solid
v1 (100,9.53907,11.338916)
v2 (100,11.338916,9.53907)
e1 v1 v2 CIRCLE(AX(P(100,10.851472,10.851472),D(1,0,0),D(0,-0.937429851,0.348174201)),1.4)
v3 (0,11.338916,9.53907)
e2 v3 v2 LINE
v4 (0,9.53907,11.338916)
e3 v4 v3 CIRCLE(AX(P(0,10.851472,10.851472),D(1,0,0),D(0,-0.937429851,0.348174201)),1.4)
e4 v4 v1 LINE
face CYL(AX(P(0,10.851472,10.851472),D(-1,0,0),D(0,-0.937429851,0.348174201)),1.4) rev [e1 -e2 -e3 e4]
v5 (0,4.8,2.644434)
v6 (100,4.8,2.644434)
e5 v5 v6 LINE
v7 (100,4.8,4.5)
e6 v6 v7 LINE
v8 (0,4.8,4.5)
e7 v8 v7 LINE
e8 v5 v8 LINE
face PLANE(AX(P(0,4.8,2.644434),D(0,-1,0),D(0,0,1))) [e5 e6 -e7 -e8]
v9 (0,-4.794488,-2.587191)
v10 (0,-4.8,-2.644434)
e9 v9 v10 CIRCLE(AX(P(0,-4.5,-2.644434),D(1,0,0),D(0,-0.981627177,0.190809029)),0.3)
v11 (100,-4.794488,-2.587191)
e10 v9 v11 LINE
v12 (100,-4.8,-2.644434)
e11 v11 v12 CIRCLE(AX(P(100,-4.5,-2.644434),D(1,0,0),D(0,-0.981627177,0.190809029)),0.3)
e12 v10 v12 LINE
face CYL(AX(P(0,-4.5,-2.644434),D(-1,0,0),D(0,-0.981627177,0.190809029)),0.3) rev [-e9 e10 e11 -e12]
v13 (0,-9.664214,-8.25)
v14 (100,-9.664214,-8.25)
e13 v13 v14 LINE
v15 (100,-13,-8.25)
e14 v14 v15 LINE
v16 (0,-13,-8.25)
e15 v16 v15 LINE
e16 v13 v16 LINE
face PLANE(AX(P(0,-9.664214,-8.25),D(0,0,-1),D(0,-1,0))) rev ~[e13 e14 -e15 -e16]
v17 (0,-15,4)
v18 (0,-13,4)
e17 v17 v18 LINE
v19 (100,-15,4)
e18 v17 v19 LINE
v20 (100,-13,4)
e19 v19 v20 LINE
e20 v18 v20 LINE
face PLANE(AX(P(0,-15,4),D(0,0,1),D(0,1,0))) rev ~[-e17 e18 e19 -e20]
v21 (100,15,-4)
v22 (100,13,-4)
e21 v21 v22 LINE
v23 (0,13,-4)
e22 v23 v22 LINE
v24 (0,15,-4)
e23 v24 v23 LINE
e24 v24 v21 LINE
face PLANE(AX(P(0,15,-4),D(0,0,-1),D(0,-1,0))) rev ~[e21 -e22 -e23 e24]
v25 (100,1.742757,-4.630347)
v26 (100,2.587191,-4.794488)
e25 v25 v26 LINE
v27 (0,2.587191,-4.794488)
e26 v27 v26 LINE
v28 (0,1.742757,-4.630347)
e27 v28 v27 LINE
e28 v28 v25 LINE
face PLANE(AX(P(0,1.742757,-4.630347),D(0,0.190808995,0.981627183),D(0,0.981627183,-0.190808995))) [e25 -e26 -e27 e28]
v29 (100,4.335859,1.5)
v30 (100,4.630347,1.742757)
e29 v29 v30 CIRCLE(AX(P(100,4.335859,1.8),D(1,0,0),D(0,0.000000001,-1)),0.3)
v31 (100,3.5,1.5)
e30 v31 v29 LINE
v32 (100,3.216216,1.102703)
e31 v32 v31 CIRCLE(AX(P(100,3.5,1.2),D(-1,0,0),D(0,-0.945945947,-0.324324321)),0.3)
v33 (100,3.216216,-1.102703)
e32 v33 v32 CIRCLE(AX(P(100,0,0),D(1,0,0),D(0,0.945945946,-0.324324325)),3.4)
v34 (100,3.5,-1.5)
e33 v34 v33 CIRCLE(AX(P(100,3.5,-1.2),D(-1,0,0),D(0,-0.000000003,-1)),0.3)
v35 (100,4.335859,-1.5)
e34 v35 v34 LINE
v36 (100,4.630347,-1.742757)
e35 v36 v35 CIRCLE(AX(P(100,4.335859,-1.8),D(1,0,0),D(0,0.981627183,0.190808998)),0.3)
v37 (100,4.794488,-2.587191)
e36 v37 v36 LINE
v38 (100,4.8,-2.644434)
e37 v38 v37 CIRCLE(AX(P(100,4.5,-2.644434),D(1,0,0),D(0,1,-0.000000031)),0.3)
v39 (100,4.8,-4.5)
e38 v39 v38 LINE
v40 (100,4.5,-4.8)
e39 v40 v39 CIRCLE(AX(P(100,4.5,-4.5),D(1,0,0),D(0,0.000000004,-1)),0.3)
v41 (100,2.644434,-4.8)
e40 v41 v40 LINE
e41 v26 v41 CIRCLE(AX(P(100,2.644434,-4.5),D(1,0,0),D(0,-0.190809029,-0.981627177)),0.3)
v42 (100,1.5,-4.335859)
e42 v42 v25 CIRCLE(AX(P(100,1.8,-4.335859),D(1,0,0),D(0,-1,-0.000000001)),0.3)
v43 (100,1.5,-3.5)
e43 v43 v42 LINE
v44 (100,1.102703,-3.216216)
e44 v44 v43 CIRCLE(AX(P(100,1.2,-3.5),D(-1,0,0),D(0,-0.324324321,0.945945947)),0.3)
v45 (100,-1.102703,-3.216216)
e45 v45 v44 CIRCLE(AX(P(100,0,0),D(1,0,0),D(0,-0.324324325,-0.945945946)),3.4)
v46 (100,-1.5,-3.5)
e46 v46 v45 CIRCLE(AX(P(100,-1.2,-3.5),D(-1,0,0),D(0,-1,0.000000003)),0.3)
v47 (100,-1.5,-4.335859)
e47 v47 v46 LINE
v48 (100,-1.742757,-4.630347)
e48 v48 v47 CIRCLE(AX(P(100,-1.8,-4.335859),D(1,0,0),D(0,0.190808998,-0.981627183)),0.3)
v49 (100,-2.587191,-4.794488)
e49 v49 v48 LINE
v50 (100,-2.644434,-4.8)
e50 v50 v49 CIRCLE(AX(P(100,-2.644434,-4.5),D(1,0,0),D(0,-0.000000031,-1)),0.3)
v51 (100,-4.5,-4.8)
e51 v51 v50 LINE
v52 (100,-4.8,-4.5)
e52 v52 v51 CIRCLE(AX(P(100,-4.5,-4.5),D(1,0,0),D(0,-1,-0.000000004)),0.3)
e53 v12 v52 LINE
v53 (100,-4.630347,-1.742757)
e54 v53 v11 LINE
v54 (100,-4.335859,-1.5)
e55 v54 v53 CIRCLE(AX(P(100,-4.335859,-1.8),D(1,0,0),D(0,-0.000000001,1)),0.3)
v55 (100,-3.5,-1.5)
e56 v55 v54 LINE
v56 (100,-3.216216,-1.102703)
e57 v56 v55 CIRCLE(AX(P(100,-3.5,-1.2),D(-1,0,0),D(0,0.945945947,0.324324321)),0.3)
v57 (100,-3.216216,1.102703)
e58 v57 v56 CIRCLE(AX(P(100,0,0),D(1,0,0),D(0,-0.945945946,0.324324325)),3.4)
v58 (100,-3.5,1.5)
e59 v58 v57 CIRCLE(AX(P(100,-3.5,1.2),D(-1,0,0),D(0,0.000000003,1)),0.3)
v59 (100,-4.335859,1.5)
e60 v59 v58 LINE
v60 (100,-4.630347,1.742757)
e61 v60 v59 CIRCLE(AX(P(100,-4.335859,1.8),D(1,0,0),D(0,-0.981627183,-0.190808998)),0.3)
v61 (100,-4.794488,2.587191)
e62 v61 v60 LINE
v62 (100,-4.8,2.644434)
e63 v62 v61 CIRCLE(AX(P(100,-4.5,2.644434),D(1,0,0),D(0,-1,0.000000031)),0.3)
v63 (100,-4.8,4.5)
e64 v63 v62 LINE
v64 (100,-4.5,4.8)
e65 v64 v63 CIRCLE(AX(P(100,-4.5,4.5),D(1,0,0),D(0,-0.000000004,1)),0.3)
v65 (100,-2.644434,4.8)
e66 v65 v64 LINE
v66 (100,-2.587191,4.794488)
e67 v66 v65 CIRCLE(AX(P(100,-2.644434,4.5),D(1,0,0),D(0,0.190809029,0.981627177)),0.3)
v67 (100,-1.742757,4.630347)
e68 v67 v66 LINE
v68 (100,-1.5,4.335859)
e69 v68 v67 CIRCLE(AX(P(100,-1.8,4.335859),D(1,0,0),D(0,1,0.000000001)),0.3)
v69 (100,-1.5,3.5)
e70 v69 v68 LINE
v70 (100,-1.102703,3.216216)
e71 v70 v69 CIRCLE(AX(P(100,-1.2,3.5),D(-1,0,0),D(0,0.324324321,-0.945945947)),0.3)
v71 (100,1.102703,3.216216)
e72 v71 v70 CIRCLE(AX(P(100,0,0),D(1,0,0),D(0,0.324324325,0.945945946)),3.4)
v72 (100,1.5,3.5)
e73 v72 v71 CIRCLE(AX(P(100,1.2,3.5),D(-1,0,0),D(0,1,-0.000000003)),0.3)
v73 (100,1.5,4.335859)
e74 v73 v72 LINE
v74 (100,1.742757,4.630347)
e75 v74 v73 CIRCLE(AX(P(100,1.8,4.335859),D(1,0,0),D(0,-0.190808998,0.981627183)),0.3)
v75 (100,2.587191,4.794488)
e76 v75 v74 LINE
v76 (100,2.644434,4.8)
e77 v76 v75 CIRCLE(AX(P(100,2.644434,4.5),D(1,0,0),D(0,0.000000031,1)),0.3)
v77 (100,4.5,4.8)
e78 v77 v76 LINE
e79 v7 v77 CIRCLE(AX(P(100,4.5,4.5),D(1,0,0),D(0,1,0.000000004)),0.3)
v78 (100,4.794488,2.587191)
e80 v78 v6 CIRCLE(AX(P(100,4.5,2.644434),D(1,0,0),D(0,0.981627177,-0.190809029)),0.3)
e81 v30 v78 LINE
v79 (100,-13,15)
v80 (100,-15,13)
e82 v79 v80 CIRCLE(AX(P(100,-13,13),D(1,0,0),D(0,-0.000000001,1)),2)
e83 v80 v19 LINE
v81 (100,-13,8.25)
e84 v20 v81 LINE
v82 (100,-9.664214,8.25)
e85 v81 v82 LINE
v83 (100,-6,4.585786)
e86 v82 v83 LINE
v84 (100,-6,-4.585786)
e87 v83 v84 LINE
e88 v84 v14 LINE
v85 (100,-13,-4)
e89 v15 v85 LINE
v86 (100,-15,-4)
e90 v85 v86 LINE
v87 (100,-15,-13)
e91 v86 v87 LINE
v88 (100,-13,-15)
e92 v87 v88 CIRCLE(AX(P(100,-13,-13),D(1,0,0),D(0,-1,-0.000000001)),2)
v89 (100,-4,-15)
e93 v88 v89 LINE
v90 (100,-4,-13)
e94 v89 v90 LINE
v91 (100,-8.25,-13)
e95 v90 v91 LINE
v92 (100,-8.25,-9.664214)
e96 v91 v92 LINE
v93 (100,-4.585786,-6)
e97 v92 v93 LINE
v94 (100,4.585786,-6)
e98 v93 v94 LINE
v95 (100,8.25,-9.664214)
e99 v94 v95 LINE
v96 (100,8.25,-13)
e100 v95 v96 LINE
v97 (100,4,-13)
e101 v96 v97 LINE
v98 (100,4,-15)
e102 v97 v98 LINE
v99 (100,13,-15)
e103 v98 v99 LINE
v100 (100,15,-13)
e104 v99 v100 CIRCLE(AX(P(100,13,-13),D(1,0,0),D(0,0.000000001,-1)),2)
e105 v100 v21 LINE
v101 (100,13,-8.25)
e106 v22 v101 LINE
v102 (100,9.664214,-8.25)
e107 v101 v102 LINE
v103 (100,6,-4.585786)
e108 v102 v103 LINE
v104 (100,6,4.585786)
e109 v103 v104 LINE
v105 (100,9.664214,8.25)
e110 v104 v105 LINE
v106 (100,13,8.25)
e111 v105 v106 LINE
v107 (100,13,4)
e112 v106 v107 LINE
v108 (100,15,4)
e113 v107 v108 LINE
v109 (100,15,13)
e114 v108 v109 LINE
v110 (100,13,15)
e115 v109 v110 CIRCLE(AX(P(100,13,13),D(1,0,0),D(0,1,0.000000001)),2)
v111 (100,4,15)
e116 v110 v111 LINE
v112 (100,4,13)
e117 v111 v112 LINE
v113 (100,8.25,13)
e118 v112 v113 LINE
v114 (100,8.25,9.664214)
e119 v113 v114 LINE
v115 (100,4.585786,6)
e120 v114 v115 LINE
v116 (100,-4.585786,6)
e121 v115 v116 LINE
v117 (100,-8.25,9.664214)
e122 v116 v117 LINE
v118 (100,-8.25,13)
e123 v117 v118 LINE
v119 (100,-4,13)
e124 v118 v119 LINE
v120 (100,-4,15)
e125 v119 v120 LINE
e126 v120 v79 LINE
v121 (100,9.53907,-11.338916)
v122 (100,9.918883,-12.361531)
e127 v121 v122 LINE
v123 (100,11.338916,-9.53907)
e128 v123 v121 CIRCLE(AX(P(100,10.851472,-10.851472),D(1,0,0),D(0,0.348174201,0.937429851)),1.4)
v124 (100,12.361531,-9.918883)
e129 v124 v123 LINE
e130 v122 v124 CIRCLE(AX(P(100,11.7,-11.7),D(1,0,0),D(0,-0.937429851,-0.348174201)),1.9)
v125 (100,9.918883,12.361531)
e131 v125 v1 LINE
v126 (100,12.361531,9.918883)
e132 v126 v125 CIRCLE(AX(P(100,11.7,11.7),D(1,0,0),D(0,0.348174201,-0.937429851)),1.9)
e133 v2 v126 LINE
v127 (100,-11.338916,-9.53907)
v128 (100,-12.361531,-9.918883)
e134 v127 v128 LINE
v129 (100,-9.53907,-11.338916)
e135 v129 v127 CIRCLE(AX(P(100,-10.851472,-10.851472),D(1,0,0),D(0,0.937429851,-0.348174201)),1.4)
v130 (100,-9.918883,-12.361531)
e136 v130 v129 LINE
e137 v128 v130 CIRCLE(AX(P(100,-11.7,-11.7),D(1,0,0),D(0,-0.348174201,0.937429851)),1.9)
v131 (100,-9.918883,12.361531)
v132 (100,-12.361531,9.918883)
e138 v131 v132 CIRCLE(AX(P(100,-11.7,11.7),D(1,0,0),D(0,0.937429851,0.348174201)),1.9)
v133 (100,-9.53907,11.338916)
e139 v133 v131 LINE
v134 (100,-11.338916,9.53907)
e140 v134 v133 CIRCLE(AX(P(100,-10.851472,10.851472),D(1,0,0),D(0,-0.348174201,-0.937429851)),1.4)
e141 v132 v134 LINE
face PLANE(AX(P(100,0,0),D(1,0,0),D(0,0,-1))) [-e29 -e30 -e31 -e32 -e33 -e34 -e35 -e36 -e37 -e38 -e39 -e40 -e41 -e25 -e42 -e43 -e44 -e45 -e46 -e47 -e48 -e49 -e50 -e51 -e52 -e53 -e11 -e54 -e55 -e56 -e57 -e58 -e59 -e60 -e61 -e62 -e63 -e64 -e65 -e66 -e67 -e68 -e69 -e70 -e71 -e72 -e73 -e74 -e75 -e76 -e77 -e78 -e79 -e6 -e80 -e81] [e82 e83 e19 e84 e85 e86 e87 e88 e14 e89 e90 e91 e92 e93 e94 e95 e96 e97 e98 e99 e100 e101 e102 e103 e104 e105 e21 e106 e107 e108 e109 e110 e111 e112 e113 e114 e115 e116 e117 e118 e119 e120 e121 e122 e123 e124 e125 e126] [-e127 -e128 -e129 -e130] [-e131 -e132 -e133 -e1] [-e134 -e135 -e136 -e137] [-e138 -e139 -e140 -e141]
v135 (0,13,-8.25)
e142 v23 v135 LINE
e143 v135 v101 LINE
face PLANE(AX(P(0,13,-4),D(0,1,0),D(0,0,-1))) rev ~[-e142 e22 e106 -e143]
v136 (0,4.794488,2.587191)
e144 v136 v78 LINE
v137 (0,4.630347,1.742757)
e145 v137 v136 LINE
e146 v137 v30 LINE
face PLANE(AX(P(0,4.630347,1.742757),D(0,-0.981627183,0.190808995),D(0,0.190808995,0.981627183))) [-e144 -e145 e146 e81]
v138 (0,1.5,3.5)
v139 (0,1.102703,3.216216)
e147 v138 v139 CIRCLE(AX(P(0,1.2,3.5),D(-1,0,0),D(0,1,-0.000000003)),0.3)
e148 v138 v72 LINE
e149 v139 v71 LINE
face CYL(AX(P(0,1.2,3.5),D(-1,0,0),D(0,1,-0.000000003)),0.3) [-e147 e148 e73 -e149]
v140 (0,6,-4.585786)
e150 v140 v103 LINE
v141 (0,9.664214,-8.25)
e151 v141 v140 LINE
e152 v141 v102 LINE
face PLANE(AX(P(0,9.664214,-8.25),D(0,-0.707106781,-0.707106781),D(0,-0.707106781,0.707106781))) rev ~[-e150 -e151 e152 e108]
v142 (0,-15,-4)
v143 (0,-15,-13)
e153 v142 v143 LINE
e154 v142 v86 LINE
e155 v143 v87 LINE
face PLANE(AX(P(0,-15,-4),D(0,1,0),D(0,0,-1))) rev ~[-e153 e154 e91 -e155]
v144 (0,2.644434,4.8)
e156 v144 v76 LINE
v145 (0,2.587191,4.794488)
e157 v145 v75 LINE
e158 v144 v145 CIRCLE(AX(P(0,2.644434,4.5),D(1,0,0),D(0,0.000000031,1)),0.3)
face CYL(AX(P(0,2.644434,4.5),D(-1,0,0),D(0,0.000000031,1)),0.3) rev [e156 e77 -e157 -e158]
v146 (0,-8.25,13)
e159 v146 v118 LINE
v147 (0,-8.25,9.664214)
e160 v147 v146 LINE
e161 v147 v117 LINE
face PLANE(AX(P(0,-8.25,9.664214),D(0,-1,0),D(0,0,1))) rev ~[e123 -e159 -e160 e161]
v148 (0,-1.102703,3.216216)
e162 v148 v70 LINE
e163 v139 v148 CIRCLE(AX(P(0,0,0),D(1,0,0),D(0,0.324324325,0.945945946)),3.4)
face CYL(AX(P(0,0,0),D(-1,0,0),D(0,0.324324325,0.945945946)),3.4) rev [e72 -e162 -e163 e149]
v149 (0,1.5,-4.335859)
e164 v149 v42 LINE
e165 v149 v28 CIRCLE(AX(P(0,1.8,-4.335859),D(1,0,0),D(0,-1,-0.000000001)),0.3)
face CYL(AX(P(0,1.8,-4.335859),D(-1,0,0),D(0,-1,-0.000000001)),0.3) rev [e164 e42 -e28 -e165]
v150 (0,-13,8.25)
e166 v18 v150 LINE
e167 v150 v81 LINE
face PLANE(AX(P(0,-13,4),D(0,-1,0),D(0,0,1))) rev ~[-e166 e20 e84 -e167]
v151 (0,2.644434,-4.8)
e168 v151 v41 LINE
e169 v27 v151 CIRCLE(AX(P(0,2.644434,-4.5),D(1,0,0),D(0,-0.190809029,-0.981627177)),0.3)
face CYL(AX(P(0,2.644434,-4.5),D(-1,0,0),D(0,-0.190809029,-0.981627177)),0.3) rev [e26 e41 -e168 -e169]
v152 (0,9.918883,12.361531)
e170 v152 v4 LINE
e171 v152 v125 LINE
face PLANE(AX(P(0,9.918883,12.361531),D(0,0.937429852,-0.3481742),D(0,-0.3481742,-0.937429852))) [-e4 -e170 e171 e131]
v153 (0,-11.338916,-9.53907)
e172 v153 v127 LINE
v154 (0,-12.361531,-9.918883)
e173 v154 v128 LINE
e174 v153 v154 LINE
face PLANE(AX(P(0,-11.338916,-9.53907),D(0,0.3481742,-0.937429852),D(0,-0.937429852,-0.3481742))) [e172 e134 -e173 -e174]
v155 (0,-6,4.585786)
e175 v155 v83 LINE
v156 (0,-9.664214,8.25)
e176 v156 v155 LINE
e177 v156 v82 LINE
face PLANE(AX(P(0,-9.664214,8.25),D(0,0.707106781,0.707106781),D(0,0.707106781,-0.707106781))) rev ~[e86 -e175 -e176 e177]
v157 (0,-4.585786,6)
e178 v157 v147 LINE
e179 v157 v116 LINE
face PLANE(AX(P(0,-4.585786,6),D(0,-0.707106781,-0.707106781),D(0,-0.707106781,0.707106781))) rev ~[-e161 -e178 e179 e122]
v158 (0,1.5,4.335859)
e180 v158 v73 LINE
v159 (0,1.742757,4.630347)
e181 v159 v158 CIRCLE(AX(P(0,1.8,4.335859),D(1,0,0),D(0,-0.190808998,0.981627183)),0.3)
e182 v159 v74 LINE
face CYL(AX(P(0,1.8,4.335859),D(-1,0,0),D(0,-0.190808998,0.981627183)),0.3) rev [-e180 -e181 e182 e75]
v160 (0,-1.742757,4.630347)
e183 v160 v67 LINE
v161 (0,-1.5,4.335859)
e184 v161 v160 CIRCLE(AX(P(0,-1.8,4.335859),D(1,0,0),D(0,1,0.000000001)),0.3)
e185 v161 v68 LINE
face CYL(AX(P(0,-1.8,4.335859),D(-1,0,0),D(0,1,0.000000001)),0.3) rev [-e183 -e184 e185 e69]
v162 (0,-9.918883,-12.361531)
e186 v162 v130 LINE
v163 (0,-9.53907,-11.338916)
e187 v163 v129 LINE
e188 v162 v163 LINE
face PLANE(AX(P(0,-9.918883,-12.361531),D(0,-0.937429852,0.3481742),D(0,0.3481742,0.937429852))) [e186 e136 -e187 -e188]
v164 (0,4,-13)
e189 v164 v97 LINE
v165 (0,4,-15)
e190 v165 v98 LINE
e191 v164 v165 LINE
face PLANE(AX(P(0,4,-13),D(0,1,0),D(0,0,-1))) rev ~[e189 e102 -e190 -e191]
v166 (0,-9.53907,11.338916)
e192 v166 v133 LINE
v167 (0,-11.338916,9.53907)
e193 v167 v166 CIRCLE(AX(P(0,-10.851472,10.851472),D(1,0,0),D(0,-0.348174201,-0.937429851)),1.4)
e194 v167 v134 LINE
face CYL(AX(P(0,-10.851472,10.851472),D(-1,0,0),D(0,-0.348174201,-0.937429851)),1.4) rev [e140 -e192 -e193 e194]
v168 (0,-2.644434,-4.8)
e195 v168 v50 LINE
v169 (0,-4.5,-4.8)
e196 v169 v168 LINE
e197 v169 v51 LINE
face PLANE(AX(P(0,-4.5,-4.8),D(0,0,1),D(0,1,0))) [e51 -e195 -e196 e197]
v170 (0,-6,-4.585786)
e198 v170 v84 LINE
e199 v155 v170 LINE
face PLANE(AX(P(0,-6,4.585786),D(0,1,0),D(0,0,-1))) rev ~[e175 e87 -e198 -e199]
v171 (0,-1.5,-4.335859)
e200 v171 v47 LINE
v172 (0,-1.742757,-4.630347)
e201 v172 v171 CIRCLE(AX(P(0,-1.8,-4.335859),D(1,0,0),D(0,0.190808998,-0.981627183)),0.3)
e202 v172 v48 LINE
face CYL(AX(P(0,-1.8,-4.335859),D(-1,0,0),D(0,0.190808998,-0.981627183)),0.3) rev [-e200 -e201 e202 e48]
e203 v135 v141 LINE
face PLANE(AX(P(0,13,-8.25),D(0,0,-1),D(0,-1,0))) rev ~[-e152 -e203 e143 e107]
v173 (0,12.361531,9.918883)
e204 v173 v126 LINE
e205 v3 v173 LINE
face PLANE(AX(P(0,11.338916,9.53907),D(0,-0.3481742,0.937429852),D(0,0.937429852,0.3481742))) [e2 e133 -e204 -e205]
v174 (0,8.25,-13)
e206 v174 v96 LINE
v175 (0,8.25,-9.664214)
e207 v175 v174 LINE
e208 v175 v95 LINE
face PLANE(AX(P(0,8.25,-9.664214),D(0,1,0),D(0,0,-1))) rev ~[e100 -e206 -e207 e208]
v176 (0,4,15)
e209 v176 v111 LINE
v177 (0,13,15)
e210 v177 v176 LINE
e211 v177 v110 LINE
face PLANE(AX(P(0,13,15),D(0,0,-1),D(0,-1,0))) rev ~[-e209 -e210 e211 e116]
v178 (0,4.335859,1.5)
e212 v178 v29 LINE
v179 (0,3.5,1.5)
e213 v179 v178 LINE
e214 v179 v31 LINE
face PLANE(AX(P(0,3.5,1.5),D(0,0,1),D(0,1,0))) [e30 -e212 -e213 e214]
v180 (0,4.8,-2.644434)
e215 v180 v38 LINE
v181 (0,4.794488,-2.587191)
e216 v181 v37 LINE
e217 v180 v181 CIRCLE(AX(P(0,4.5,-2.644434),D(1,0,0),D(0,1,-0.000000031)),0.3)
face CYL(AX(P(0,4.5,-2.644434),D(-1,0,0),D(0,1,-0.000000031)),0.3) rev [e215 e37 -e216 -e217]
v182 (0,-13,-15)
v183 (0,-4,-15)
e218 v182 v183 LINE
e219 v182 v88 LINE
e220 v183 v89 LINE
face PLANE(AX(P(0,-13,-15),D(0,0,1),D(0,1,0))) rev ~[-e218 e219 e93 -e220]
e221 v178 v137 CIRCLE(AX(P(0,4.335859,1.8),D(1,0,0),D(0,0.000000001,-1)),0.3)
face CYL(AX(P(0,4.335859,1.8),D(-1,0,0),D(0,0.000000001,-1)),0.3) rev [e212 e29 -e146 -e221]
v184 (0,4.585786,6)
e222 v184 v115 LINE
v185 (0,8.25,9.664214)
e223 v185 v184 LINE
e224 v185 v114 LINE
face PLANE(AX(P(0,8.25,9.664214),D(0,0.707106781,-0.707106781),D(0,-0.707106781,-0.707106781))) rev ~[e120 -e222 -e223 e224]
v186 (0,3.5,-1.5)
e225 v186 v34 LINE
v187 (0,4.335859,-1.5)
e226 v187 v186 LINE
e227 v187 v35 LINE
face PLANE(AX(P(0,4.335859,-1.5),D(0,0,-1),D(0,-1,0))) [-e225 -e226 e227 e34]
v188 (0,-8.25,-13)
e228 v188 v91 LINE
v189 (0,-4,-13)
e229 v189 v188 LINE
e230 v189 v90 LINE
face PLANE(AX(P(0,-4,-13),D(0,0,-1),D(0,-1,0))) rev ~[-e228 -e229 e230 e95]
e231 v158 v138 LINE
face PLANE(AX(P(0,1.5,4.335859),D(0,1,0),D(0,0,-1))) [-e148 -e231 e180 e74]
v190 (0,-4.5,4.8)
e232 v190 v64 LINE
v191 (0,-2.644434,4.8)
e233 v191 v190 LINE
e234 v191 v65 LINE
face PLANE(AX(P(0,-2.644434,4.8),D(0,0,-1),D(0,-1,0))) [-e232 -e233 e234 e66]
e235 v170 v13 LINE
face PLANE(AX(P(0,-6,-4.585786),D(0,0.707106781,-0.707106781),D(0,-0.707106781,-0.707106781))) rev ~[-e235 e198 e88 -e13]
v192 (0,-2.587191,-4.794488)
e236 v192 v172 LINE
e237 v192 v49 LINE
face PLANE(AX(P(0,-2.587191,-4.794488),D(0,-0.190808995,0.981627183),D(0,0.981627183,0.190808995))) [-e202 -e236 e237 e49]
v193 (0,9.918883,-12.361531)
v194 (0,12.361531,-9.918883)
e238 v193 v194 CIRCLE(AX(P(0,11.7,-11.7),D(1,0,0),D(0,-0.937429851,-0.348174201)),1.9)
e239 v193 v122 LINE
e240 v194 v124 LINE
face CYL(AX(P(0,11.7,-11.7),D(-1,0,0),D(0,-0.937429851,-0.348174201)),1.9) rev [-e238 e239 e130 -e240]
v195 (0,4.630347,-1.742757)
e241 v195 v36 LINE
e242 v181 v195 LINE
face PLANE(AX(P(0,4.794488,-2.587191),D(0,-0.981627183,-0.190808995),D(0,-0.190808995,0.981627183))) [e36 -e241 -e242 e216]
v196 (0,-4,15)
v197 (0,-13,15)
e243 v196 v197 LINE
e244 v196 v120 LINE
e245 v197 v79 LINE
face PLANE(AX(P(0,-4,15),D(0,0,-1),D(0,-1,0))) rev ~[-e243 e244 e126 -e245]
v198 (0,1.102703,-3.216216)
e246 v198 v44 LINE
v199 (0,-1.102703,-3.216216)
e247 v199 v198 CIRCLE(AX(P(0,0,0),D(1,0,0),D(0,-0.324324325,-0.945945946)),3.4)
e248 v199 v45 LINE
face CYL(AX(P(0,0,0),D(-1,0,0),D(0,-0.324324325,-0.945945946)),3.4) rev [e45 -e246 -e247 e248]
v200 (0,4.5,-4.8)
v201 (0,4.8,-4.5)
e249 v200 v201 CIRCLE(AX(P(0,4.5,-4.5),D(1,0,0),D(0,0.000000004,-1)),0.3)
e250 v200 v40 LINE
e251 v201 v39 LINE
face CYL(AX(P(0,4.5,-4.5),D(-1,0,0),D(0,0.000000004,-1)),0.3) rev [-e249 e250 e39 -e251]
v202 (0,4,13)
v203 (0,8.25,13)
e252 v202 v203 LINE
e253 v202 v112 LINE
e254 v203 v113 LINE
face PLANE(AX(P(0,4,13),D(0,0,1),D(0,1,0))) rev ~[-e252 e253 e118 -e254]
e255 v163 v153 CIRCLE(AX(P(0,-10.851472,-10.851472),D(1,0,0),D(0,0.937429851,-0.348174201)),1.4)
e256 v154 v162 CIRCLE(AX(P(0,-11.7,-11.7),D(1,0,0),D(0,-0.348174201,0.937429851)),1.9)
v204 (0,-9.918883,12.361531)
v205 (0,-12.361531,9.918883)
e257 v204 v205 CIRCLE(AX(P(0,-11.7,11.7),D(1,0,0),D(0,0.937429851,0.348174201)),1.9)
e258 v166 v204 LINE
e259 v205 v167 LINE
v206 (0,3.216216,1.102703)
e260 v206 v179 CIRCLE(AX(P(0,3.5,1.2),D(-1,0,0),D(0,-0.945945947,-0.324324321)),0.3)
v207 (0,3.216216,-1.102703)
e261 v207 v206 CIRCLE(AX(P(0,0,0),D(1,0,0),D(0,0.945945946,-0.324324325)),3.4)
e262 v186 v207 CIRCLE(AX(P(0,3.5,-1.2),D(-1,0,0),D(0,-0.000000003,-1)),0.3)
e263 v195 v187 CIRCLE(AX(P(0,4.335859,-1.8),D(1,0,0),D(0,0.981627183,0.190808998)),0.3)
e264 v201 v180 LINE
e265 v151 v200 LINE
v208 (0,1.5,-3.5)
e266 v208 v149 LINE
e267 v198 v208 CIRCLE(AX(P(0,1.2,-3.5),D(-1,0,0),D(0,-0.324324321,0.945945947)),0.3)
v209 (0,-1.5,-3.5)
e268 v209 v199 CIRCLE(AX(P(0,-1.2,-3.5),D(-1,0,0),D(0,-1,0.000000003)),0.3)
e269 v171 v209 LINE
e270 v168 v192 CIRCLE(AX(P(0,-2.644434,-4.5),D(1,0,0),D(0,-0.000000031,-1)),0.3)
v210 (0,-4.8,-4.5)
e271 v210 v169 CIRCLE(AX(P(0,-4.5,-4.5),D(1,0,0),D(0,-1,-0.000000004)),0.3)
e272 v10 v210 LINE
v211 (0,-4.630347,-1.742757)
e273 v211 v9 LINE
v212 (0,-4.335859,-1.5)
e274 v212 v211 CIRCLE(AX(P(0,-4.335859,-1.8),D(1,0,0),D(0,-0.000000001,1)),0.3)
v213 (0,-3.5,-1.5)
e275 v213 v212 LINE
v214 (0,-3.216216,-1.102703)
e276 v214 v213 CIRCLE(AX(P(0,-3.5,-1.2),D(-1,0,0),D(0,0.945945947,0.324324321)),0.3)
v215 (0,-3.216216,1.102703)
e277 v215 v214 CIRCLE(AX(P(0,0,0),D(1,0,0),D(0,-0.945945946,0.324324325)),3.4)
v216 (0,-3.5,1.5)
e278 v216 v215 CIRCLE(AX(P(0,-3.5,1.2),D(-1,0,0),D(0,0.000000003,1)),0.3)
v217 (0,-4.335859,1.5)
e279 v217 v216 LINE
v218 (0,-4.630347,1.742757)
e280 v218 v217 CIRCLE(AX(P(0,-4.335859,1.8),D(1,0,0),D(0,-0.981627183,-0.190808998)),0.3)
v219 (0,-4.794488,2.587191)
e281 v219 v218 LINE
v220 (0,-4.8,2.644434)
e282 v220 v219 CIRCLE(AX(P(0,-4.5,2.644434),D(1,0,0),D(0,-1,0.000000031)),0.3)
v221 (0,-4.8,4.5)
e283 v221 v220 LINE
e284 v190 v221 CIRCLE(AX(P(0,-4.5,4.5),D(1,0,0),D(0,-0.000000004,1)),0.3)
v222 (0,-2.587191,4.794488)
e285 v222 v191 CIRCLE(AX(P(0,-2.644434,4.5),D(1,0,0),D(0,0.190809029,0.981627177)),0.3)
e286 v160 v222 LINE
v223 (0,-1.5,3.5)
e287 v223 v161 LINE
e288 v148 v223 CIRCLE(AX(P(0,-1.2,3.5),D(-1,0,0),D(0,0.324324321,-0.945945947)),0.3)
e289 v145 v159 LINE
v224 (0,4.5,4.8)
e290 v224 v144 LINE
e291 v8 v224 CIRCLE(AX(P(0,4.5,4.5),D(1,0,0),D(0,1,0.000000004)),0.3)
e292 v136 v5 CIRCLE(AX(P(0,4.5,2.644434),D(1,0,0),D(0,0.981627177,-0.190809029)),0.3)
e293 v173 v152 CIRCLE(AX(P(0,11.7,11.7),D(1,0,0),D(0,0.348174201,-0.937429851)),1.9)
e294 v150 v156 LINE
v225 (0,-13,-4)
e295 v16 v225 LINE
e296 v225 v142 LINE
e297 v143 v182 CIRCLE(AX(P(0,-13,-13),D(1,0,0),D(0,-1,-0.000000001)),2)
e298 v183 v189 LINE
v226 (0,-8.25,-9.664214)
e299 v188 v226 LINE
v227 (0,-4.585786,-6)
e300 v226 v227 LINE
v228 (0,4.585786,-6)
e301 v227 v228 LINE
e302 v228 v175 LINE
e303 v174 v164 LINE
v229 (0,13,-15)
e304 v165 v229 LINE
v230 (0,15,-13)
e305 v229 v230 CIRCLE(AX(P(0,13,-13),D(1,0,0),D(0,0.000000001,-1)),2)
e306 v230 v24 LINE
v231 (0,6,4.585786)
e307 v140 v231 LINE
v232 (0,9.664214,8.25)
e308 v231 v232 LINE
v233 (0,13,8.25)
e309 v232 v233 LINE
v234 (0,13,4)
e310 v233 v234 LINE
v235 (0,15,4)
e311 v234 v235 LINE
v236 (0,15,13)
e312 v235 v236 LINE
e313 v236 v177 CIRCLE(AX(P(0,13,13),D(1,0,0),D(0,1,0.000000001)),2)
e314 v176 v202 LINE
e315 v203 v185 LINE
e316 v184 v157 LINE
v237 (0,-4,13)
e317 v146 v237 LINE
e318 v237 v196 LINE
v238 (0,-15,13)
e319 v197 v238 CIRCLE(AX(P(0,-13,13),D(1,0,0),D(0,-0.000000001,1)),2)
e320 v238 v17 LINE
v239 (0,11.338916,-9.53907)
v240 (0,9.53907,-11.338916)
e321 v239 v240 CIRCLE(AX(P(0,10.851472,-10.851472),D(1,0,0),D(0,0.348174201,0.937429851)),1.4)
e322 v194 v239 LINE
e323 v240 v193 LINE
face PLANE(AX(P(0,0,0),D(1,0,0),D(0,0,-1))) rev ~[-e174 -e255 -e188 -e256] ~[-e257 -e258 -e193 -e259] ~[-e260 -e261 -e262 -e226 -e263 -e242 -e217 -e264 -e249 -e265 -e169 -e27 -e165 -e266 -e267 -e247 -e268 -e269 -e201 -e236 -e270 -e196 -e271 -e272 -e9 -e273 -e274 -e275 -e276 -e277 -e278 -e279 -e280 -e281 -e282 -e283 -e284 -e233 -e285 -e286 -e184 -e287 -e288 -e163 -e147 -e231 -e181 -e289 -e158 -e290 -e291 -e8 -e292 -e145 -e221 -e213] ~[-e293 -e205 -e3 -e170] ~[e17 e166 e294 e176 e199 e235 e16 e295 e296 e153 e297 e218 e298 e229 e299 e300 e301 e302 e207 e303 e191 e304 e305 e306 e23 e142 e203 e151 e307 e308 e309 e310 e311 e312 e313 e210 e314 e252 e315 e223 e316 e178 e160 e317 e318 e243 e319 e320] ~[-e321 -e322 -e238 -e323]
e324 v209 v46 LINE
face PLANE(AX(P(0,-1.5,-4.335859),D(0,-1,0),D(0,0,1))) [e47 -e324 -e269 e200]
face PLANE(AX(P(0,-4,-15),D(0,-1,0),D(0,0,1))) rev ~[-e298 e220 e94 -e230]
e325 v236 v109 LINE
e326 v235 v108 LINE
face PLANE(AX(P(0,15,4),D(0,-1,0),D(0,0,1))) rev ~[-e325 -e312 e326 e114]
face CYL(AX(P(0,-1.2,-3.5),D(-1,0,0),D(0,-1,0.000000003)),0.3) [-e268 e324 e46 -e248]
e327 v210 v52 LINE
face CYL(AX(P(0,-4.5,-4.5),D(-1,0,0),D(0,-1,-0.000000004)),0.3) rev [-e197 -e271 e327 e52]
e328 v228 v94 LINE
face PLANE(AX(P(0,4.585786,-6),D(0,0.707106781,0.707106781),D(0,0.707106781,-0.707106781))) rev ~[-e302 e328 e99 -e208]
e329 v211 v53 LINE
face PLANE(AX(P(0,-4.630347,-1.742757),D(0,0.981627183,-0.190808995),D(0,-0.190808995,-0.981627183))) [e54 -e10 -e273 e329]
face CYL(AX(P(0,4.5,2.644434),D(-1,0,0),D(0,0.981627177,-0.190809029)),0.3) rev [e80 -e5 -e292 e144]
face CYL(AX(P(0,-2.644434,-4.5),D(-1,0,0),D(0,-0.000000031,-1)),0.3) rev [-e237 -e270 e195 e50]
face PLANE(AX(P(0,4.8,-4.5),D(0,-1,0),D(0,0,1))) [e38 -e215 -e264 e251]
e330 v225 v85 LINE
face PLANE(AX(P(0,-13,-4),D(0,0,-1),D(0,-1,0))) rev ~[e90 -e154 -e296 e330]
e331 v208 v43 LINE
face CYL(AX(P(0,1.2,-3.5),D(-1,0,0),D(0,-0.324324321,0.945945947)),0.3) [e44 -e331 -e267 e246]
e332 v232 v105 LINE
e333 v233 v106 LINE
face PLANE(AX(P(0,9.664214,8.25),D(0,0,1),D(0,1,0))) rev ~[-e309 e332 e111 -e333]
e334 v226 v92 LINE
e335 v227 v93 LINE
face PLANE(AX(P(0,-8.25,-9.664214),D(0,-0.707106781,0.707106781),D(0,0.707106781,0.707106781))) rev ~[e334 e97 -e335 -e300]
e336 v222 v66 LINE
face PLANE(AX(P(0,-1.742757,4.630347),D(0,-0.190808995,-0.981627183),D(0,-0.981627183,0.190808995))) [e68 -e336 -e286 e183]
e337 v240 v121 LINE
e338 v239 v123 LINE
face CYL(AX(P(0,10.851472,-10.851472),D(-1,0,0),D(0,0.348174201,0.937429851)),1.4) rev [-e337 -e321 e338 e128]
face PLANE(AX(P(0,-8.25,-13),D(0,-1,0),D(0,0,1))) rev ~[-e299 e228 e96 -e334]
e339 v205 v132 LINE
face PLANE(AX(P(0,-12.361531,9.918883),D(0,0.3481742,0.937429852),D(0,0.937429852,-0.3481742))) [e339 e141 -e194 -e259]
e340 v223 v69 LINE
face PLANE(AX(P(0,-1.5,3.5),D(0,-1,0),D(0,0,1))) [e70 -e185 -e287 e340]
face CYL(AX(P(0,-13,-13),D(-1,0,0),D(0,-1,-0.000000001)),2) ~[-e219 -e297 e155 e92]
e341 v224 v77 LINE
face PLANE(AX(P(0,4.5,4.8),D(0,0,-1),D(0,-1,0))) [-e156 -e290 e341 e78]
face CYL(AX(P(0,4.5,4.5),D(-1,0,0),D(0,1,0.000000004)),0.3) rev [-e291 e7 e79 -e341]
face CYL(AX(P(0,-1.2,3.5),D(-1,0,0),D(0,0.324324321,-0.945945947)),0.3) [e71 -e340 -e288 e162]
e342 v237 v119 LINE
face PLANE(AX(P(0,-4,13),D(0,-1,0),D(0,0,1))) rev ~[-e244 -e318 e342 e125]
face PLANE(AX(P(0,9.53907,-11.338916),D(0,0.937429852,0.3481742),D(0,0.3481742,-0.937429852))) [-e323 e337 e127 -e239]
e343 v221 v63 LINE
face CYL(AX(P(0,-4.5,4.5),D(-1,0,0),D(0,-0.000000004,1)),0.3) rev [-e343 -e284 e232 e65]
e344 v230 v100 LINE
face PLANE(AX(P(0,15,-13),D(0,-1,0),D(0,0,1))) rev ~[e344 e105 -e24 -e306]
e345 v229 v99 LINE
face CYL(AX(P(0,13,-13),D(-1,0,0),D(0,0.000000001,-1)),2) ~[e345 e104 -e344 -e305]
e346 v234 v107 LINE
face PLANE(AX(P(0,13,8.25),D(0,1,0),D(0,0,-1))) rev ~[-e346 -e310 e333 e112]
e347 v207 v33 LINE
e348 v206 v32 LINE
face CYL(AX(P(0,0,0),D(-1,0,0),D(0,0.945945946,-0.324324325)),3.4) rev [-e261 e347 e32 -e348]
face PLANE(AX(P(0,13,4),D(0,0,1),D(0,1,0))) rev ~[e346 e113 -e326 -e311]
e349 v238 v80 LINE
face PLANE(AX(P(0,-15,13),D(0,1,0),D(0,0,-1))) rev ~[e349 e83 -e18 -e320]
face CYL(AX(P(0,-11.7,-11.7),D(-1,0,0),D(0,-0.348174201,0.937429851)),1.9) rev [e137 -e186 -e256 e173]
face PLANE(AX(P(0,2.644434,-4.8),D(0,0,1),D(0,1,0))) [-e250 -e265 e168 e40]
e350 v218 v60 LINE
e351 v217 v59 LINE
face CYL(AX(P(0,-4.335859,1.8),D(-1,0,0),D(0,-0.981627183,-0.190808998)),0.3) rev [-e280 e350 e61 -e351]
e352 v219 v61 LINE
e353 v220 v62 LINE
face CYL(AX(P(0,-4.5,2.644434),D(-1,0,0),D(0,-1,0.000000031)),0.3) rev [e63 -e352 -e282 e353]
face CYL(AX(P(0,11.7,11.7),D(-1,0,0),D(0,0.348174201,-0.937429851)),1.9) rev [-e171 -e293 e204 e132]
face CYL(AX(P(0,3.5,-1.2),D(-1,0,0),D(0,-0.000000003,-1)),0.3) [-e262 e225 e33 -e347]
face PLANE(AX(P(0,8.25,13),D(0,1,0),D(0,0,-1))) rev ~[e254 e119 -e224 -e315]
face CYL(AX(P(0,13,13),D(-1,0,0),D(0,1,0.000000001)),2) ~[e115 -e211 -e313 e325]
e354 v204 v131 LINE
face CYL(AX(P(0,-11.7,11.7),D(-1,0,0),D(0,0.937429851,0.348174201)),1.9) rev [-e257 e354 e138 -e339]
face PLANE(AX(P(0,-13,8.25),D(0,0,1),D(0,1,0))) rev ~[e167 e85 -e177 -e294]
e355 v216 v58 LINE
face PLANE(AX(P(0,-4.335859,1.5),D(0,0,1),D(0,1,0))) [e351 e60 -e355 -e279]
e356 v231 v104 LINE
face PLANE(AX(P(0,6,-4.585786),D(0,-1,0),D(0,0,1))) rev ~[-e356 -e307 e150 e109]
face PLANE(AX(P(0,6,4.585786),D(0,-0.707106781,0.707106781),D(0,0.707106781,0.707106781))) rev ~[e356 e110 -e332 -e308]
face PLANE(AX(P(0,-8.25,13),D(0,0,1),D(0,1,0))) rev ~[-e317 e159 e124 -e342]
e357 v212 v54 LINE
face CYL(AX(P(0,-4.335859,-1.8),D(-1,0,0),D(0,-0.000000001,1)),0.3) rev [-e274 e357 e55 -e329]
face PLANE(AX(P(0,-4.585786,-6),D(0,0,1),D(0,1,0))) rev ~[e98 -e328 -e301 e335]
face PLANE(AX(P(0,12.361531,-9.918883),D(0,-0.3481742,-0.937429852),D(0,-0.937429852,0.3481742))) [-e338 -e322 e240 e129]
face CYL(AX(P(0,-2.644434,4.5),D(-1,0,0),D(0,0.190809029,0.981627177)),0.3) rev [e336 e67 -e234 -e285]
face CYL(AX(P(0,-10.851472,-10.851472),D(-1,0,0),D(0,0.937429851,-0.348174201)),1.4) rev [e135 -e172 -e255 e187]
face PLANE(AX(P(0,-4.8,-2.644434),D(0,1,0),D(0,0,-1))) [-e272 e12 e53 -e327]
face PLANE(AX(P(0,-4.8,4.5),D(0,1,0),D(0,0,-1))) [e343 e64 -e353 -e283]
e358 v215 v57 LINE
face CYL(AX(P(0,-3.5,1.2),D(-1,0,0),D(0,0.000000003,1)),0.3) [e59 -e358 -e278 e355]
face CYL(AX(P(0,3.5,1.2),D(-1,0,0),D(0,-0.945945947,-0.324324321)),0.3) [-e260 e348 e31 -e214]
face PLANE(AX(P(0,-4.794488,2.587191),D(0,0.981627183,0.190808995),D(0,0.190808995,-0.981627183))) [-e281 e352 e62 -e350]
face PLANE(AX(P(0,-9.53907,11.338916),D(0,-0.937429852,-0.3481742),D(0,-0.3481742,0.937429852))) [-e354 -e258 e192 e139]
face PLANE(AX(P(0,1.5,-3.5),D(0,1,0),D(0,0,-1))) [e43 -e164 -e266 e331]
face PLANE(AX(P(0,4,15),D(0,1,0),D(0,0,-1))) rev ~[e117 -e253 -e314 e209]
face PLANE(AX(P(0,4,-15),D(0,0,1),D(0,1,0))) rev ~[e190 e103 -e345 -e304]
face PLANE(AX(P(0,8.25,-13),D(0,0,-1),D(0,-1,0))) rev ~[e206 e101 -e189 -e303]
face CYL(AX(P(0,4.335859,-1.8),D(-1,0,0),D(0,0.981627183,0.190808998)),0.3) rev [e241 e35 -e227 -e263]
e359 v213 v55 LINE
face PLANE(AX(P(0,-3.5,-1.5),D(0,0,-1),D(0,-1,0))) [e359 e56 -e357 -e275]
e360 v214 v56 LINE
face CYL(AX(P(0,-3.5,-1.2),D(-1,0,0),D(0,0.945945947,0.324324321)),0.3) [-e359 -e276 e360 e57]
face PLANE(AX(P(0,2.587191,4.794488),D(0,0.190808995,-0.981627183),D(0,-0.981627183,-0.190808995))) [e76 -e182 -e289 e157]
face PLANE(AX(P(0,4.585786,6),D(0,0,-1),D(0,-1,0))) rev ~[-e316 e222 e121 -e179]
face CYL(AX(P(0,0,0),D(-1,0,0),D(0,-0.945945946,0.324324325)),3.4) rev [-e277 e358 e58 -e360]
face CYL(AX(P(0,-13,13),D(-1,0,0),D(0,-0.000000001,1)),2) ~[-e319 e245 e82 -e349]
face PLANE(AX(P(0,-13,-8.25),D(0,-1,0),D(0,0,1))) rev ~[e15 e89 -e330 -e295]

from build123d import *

# Parameters (mm, degrees)
BOSS_EXTRUDE1_DEPTH = 100


with BuildPart() as part:
    # Sketch1 → Boss-Extrude1 (new body)
    with BuildSketch(Plane(origin=(0, 0, 0), x_dir=(0, 0, -1), z_dir=(1, 0, 0))):
        with BuildLine():
            Line((-15, 13), (-15, 4))
            Line((-15, 4), (-13, 4))
            Line((-13, 4), (-13, 8.25))
            Line((-13, 8.25), (-9.664213562, 8.25))
            Line((-9.664213562, 8.25), (-6, 4.585786438))
            Line((-6, 4.585786438), (-6, -4.585786438))
            Line((-6, -4.585786438), (-9.664213562, -8.25))
            Line((-9.664213562, -8.25), (-13, -8.25))
            Line((-13, -8.25), (-13, -4))
            Line((-13, -4), (-15, -4))
            Line((-15, -4), (-15, -13))
            ThreePointArc((-15, -13), (-14.414213562, -14.414213562), (-13, -15))
            Line((-13, -15), (-4, -15))
            Line((-4, -15), (-4, -13))
            Line((-4, -13), (-8.25, -13))
            Line((-8.25, -13), (-8.25, -9.664213562))
            Line((-8.25, -9.664213562), (-4.585786438, -6))
            Line((-4.585786438, -6), (4.585786438, -6))
            Line((4.585786438, -6), (8.25, -9.664213562))
            Line((8.25, -9.664213562), (8.25, -13))
            Line((8.25, -13), (4, -13))
            Line((4, -13), (4, -15))
            Line((4, -15), (13, -15))
            ThreePointArc((13, -15), (14.414213562, -14.414213562), (15, -13))
            Line((15, -13), (15, -4))
            Line((15, -4), (13, -4))
            Line((13, -4), (13, -8.25))
            Line((13, -8.25), (9.664213562, -8.25))
            Line((9.664213562, -8.25), (6, -4.585786438))
            Line((6, -4.585786438), (6, 4.585786438))
            Line((6, 4.585786438), (9.664213562, 8.25))
            Line((9.664213562, 8.25), (13, 8.25))
            Line((13, 8.25), (13, 4))
            Line((13, 4), (15, 4))
            Line((15, 4), (15, 13))
            ThreePointArc((15, 13), (14.414213562, 14.414213562), (13, 15))
            Line((13, 15), (4, 15))
            Line((4, 15), (4, 13))
            Line((4, 13), (8.25, 13))
            Line((8.25, 13), (8.25, 9.664213562))
            Line((8.25, 9.664213562), (4.585786438, 6))
            Line((4.585786438, 6), (-4.585786438, 6))
            Line((-4.585786438, 6), (-8.25, 9.664213562))
            Line((-8.25, 9.664213562), (-8.25, 13))
            Line((-8.25, 13), (-4, 13))
            Line((-4, 13), (-4, 15))
            Line((-4, 15), (-13, 15))
            ThreePointArc((-13, 15), (-14.414213562, 14.414213562), (-15, 13))
        make_face()
        with BuildLine():
            Line((-9.539070071, 11.338915743), (-9.918883282, 12.361530981))
            ThreePointArc((-9.918883282, 12.361530981), (-13.043502884, 13.043502884), (-12.361530981, 9.918883282))
            Line((-12.361530981, 9.918883282), (-11.338915743, 9.539070071))
            ThreePointArc((-11.338915743, 9.539070071), (-9.861522369, 9.861522369), (-9.539070071, 11.338915743))
        make_face(mode=Mode.SUBTRACT)
        with BuildLine():
            Line((9.918883282, 12.361530981), (9.539070071, 11.338915743))
            ThreePointArc((9.539070071, 11.338915743), (9.861522369, 9.861522369), (11.338915743, 9.539070071))
            Line((11.338915743, 9.539070071), (12.361530981, 9.918883282))
            ThreePointArc((12.361530981, 9.918883282), (13.043502884, 13.043502884), (9.918883282, 12.361530981))
        make_face(mode=Mode.SUBTRACT)
        with BuildLine():
            Line((12.361530981, -9.918883282), (11.338915743, -9.539070071))
            ThreePointArc((11.338915743, -9.539070071), (9.861522369, -9.861522369), (9.539070071, -11.338915743))
            Line((9.539070071, -11.338915743), (9.918883282, -12.361530981))
            ThreePointArc((9.918883282, -12.361530981), (13.043502884, -13.043502884), (12.361530981, -9.918883282))
        make_face(mode=Mode.SUBTRACT)
        with BuildLine():
            Line((-11.338915743, -9.539070071), (-12.361530981, -9.918883282))
            ThreePointArc((-12.361530981, -9.918883282), (-13.043502884, -13.043502884), (-9.918883282, -12.361530981))
            Line((-9.918883282, -12.361530981), (-9.539070071, -11.338915743))
            ThreePointArc((-9.539070071, -11.338915743), (-9.861522369, -9.861522369), (-11.338915743, -9.539070071))
        make_face(mode=Mode.SUBTRACT)
        with BuildLine():
            Line((-4.8, -2.644433572), (-4.8, -4.5))
            ThreePointArc((-4.8, -4.5), (-4.712132034, -4.712132034), (-4.5, -4.8))
            Line((-4.5, -4.8), (-2.644433572, -4.8))
            ThreePointArc((-2.644433572, -4.8), (-2.615679847, -4.79861886), (-2.587190874, -4.794488155))
            Line((-2.587190874, -4.794488155), (-1.742757301, -4.630346896))
            ThreePointArc((-1.742757301, -4.630346896), (-1.568512625, -4.526682207), (-1.5, -4.335858741))
            Line((-1.5, -4.335858741), (-1.5, -3.5))
            ThreePointArc((-1.5, -3.5), (-1.374371458, -3.255879959), (-1.102702703, -3.216216216))
            ThreePointArc((-1.102702703, -3.216216216), (0, -3.4), (1.102702703, -3.216216216))
            ThreePointArc((1.102702703, -3.216216216), (1.374371458, -3.255879959), (1.5, -3.5))
            Line((1.5, -3.5), (1.5, -4.335858741))
            ThreePointArc((1.5, -4.335858741), (1.568512625, -4.526682207), (1.742757301, -4.630346896))
            Line((1.742757301, -4.630346896), (2.587190874, -4.794488155))
            ThreePointArc((2.587190874, -4.794488155), (2.615679847, -4.79861886), (2.644433572, -4.8))
            Line((2.644433572, -4.8), (4.5, -4.8))
            ThreePointArc((4.5, -4.8), (4.712132034, -4.712132034), (4.8, -4.5))
            Line((4.8, -4.5), (4.8, -2.644433572))
            ThreePointArc((4.8, -2.644433572), (4.79861886, -2.615679847), (4.794488155, -2.587190874))
            Line((4.794488155, -2.587190874), (4.630346896, -1.742757301))
            ThreePointArc((4.630346896, -1.742757301), (4.526682207, -1.568512625), (4.335858741, -1.5))
            Line((4.335858741, -1.5), (3.5, -1.5))
            ThreePointArc((3.5, -1.5), (3.255879959, -1.374371458), (3.216216216, -1.102702703))
            ThreePointArc((3.216216216, -1.102702703), (3.4, 0), (3.216216216, 1.102702703))
            ThreePointArc((3.216216216, 1.102702703), (3.255879959, 1.374371458), (3.5, 1.5))
            Line((3.5, 1.5), (4.335858741, 1.5))
            ThreePointArc((4.335858741, 1.5), (4.526682207, 1.568512625), (4.630346896, 1.742757301))
            Line((4.630346896, 1.742757301), (4.794488155, 2.587190874))
            ThreePointArc((4.794488155, 2.587190874), (4.79861886, 2.615679847), (4.8, 2.644433572))
            Line((4.8, 2.644433572), (4.8, 4.5))
            ThreePointArc((4.8, 4.5), (4.712132034, 4.712132034), (4.5, 4.8))
            Line((4.5, 4.8), (2.644433572, 4.8))
            ThreePointArc((2.644433572, 4.8), (2.615679847, 4.79861886), (2.587190874, 4.794488155))
            Line((2.587190874, 4.794488155), (1.742757301, 4.630346896))
            ThreePointArc((1.742757301, 4.630346896), (1.568512625, 4.526682207), (1.5, 4.335858741))
            Line((1.5, 4.335858741), (1.5, 3.5))
            ThreePointArc((1.5, 3.5), (1.374371458, 3.255879959), (1.102702703, 3.216216216))
            ThreePointArc((1.102702703, 3.216216216), (0, 3.4), (-1.102702703, 3.216216216))
            ThreePointArc((-1.102702703, 3.216216216), (-1.374371458, 3.255879959), (-1.5, 3.5))
            Line((-1.5, 3.5), (-1.5, 4.335858741))
            ThreePointArc((-1.5, 4.335858741), (-1.568512625, 4.526682207), (-1.742757301, 4.630346896))
            Line((-1.742757301, 4.630346896), (-2.587190874, 4.794488155))
            ThreePointArc((-2.587190874, 4.794488155), (-2.615679847, 4.79861886), (-2.644433572, 4.8))
            Line((-2.644433572, 4.8), (-4.5, 4.8))
            ThreePointArc((-4.5, 4.8), (-4.712132034, 4.712132034), (-4.8, 4.5))
            Line((-4.8, 4.5), (-4.8, 2.644433572))
            ThreePointArc((-4.8, 2.644433572), (-4.79861886, 2.615679847), (-4.794488155, 2.587190874))
            Line((-4.794488155, 2.587190874), (-4.630346896, 1.742757301))
            ThreePointArc((-4.630346896, 1.742757301), (-4.526682207, 1.568512625), (-4.335858741, 1.5))
            Line((-4.335858741, 1.5), (-3.5, 1.5))
            ThreePointArc((-3.5, 1.5), (-3.255879959, 1.374371458), (-3.216216216, 1.102702703))
            ThreePointArc((-3.216216216, 1.102702703), (-3.4, 0), (-3.216216216, -1.102702703))
            ThreePointArc((-3.216216216, -1.102702703), (-3.255879959, -1.374371458), (-3.5, -1.5))
            Line((-3.5, -1.5), (-4.335858741, -1.5))
            ThreePointArc((-4.335858741, -1.5), (-4.526682207, -1.568512625), (-4.630346896, -1.742757301))
            Line((-4.630346896, -1.742757301), (-4.794488155, -2.587190874))
            ThreePointArc((-4.794488155, -2.587190874), (-4.79861886, -2.615679847), (-4.8, -2.644433572))
        make_face(mode=Mode.SUBTRACT)
    extrude(amount=BOSS_EXTRUDE1_DEPTH)


solid = part.part
